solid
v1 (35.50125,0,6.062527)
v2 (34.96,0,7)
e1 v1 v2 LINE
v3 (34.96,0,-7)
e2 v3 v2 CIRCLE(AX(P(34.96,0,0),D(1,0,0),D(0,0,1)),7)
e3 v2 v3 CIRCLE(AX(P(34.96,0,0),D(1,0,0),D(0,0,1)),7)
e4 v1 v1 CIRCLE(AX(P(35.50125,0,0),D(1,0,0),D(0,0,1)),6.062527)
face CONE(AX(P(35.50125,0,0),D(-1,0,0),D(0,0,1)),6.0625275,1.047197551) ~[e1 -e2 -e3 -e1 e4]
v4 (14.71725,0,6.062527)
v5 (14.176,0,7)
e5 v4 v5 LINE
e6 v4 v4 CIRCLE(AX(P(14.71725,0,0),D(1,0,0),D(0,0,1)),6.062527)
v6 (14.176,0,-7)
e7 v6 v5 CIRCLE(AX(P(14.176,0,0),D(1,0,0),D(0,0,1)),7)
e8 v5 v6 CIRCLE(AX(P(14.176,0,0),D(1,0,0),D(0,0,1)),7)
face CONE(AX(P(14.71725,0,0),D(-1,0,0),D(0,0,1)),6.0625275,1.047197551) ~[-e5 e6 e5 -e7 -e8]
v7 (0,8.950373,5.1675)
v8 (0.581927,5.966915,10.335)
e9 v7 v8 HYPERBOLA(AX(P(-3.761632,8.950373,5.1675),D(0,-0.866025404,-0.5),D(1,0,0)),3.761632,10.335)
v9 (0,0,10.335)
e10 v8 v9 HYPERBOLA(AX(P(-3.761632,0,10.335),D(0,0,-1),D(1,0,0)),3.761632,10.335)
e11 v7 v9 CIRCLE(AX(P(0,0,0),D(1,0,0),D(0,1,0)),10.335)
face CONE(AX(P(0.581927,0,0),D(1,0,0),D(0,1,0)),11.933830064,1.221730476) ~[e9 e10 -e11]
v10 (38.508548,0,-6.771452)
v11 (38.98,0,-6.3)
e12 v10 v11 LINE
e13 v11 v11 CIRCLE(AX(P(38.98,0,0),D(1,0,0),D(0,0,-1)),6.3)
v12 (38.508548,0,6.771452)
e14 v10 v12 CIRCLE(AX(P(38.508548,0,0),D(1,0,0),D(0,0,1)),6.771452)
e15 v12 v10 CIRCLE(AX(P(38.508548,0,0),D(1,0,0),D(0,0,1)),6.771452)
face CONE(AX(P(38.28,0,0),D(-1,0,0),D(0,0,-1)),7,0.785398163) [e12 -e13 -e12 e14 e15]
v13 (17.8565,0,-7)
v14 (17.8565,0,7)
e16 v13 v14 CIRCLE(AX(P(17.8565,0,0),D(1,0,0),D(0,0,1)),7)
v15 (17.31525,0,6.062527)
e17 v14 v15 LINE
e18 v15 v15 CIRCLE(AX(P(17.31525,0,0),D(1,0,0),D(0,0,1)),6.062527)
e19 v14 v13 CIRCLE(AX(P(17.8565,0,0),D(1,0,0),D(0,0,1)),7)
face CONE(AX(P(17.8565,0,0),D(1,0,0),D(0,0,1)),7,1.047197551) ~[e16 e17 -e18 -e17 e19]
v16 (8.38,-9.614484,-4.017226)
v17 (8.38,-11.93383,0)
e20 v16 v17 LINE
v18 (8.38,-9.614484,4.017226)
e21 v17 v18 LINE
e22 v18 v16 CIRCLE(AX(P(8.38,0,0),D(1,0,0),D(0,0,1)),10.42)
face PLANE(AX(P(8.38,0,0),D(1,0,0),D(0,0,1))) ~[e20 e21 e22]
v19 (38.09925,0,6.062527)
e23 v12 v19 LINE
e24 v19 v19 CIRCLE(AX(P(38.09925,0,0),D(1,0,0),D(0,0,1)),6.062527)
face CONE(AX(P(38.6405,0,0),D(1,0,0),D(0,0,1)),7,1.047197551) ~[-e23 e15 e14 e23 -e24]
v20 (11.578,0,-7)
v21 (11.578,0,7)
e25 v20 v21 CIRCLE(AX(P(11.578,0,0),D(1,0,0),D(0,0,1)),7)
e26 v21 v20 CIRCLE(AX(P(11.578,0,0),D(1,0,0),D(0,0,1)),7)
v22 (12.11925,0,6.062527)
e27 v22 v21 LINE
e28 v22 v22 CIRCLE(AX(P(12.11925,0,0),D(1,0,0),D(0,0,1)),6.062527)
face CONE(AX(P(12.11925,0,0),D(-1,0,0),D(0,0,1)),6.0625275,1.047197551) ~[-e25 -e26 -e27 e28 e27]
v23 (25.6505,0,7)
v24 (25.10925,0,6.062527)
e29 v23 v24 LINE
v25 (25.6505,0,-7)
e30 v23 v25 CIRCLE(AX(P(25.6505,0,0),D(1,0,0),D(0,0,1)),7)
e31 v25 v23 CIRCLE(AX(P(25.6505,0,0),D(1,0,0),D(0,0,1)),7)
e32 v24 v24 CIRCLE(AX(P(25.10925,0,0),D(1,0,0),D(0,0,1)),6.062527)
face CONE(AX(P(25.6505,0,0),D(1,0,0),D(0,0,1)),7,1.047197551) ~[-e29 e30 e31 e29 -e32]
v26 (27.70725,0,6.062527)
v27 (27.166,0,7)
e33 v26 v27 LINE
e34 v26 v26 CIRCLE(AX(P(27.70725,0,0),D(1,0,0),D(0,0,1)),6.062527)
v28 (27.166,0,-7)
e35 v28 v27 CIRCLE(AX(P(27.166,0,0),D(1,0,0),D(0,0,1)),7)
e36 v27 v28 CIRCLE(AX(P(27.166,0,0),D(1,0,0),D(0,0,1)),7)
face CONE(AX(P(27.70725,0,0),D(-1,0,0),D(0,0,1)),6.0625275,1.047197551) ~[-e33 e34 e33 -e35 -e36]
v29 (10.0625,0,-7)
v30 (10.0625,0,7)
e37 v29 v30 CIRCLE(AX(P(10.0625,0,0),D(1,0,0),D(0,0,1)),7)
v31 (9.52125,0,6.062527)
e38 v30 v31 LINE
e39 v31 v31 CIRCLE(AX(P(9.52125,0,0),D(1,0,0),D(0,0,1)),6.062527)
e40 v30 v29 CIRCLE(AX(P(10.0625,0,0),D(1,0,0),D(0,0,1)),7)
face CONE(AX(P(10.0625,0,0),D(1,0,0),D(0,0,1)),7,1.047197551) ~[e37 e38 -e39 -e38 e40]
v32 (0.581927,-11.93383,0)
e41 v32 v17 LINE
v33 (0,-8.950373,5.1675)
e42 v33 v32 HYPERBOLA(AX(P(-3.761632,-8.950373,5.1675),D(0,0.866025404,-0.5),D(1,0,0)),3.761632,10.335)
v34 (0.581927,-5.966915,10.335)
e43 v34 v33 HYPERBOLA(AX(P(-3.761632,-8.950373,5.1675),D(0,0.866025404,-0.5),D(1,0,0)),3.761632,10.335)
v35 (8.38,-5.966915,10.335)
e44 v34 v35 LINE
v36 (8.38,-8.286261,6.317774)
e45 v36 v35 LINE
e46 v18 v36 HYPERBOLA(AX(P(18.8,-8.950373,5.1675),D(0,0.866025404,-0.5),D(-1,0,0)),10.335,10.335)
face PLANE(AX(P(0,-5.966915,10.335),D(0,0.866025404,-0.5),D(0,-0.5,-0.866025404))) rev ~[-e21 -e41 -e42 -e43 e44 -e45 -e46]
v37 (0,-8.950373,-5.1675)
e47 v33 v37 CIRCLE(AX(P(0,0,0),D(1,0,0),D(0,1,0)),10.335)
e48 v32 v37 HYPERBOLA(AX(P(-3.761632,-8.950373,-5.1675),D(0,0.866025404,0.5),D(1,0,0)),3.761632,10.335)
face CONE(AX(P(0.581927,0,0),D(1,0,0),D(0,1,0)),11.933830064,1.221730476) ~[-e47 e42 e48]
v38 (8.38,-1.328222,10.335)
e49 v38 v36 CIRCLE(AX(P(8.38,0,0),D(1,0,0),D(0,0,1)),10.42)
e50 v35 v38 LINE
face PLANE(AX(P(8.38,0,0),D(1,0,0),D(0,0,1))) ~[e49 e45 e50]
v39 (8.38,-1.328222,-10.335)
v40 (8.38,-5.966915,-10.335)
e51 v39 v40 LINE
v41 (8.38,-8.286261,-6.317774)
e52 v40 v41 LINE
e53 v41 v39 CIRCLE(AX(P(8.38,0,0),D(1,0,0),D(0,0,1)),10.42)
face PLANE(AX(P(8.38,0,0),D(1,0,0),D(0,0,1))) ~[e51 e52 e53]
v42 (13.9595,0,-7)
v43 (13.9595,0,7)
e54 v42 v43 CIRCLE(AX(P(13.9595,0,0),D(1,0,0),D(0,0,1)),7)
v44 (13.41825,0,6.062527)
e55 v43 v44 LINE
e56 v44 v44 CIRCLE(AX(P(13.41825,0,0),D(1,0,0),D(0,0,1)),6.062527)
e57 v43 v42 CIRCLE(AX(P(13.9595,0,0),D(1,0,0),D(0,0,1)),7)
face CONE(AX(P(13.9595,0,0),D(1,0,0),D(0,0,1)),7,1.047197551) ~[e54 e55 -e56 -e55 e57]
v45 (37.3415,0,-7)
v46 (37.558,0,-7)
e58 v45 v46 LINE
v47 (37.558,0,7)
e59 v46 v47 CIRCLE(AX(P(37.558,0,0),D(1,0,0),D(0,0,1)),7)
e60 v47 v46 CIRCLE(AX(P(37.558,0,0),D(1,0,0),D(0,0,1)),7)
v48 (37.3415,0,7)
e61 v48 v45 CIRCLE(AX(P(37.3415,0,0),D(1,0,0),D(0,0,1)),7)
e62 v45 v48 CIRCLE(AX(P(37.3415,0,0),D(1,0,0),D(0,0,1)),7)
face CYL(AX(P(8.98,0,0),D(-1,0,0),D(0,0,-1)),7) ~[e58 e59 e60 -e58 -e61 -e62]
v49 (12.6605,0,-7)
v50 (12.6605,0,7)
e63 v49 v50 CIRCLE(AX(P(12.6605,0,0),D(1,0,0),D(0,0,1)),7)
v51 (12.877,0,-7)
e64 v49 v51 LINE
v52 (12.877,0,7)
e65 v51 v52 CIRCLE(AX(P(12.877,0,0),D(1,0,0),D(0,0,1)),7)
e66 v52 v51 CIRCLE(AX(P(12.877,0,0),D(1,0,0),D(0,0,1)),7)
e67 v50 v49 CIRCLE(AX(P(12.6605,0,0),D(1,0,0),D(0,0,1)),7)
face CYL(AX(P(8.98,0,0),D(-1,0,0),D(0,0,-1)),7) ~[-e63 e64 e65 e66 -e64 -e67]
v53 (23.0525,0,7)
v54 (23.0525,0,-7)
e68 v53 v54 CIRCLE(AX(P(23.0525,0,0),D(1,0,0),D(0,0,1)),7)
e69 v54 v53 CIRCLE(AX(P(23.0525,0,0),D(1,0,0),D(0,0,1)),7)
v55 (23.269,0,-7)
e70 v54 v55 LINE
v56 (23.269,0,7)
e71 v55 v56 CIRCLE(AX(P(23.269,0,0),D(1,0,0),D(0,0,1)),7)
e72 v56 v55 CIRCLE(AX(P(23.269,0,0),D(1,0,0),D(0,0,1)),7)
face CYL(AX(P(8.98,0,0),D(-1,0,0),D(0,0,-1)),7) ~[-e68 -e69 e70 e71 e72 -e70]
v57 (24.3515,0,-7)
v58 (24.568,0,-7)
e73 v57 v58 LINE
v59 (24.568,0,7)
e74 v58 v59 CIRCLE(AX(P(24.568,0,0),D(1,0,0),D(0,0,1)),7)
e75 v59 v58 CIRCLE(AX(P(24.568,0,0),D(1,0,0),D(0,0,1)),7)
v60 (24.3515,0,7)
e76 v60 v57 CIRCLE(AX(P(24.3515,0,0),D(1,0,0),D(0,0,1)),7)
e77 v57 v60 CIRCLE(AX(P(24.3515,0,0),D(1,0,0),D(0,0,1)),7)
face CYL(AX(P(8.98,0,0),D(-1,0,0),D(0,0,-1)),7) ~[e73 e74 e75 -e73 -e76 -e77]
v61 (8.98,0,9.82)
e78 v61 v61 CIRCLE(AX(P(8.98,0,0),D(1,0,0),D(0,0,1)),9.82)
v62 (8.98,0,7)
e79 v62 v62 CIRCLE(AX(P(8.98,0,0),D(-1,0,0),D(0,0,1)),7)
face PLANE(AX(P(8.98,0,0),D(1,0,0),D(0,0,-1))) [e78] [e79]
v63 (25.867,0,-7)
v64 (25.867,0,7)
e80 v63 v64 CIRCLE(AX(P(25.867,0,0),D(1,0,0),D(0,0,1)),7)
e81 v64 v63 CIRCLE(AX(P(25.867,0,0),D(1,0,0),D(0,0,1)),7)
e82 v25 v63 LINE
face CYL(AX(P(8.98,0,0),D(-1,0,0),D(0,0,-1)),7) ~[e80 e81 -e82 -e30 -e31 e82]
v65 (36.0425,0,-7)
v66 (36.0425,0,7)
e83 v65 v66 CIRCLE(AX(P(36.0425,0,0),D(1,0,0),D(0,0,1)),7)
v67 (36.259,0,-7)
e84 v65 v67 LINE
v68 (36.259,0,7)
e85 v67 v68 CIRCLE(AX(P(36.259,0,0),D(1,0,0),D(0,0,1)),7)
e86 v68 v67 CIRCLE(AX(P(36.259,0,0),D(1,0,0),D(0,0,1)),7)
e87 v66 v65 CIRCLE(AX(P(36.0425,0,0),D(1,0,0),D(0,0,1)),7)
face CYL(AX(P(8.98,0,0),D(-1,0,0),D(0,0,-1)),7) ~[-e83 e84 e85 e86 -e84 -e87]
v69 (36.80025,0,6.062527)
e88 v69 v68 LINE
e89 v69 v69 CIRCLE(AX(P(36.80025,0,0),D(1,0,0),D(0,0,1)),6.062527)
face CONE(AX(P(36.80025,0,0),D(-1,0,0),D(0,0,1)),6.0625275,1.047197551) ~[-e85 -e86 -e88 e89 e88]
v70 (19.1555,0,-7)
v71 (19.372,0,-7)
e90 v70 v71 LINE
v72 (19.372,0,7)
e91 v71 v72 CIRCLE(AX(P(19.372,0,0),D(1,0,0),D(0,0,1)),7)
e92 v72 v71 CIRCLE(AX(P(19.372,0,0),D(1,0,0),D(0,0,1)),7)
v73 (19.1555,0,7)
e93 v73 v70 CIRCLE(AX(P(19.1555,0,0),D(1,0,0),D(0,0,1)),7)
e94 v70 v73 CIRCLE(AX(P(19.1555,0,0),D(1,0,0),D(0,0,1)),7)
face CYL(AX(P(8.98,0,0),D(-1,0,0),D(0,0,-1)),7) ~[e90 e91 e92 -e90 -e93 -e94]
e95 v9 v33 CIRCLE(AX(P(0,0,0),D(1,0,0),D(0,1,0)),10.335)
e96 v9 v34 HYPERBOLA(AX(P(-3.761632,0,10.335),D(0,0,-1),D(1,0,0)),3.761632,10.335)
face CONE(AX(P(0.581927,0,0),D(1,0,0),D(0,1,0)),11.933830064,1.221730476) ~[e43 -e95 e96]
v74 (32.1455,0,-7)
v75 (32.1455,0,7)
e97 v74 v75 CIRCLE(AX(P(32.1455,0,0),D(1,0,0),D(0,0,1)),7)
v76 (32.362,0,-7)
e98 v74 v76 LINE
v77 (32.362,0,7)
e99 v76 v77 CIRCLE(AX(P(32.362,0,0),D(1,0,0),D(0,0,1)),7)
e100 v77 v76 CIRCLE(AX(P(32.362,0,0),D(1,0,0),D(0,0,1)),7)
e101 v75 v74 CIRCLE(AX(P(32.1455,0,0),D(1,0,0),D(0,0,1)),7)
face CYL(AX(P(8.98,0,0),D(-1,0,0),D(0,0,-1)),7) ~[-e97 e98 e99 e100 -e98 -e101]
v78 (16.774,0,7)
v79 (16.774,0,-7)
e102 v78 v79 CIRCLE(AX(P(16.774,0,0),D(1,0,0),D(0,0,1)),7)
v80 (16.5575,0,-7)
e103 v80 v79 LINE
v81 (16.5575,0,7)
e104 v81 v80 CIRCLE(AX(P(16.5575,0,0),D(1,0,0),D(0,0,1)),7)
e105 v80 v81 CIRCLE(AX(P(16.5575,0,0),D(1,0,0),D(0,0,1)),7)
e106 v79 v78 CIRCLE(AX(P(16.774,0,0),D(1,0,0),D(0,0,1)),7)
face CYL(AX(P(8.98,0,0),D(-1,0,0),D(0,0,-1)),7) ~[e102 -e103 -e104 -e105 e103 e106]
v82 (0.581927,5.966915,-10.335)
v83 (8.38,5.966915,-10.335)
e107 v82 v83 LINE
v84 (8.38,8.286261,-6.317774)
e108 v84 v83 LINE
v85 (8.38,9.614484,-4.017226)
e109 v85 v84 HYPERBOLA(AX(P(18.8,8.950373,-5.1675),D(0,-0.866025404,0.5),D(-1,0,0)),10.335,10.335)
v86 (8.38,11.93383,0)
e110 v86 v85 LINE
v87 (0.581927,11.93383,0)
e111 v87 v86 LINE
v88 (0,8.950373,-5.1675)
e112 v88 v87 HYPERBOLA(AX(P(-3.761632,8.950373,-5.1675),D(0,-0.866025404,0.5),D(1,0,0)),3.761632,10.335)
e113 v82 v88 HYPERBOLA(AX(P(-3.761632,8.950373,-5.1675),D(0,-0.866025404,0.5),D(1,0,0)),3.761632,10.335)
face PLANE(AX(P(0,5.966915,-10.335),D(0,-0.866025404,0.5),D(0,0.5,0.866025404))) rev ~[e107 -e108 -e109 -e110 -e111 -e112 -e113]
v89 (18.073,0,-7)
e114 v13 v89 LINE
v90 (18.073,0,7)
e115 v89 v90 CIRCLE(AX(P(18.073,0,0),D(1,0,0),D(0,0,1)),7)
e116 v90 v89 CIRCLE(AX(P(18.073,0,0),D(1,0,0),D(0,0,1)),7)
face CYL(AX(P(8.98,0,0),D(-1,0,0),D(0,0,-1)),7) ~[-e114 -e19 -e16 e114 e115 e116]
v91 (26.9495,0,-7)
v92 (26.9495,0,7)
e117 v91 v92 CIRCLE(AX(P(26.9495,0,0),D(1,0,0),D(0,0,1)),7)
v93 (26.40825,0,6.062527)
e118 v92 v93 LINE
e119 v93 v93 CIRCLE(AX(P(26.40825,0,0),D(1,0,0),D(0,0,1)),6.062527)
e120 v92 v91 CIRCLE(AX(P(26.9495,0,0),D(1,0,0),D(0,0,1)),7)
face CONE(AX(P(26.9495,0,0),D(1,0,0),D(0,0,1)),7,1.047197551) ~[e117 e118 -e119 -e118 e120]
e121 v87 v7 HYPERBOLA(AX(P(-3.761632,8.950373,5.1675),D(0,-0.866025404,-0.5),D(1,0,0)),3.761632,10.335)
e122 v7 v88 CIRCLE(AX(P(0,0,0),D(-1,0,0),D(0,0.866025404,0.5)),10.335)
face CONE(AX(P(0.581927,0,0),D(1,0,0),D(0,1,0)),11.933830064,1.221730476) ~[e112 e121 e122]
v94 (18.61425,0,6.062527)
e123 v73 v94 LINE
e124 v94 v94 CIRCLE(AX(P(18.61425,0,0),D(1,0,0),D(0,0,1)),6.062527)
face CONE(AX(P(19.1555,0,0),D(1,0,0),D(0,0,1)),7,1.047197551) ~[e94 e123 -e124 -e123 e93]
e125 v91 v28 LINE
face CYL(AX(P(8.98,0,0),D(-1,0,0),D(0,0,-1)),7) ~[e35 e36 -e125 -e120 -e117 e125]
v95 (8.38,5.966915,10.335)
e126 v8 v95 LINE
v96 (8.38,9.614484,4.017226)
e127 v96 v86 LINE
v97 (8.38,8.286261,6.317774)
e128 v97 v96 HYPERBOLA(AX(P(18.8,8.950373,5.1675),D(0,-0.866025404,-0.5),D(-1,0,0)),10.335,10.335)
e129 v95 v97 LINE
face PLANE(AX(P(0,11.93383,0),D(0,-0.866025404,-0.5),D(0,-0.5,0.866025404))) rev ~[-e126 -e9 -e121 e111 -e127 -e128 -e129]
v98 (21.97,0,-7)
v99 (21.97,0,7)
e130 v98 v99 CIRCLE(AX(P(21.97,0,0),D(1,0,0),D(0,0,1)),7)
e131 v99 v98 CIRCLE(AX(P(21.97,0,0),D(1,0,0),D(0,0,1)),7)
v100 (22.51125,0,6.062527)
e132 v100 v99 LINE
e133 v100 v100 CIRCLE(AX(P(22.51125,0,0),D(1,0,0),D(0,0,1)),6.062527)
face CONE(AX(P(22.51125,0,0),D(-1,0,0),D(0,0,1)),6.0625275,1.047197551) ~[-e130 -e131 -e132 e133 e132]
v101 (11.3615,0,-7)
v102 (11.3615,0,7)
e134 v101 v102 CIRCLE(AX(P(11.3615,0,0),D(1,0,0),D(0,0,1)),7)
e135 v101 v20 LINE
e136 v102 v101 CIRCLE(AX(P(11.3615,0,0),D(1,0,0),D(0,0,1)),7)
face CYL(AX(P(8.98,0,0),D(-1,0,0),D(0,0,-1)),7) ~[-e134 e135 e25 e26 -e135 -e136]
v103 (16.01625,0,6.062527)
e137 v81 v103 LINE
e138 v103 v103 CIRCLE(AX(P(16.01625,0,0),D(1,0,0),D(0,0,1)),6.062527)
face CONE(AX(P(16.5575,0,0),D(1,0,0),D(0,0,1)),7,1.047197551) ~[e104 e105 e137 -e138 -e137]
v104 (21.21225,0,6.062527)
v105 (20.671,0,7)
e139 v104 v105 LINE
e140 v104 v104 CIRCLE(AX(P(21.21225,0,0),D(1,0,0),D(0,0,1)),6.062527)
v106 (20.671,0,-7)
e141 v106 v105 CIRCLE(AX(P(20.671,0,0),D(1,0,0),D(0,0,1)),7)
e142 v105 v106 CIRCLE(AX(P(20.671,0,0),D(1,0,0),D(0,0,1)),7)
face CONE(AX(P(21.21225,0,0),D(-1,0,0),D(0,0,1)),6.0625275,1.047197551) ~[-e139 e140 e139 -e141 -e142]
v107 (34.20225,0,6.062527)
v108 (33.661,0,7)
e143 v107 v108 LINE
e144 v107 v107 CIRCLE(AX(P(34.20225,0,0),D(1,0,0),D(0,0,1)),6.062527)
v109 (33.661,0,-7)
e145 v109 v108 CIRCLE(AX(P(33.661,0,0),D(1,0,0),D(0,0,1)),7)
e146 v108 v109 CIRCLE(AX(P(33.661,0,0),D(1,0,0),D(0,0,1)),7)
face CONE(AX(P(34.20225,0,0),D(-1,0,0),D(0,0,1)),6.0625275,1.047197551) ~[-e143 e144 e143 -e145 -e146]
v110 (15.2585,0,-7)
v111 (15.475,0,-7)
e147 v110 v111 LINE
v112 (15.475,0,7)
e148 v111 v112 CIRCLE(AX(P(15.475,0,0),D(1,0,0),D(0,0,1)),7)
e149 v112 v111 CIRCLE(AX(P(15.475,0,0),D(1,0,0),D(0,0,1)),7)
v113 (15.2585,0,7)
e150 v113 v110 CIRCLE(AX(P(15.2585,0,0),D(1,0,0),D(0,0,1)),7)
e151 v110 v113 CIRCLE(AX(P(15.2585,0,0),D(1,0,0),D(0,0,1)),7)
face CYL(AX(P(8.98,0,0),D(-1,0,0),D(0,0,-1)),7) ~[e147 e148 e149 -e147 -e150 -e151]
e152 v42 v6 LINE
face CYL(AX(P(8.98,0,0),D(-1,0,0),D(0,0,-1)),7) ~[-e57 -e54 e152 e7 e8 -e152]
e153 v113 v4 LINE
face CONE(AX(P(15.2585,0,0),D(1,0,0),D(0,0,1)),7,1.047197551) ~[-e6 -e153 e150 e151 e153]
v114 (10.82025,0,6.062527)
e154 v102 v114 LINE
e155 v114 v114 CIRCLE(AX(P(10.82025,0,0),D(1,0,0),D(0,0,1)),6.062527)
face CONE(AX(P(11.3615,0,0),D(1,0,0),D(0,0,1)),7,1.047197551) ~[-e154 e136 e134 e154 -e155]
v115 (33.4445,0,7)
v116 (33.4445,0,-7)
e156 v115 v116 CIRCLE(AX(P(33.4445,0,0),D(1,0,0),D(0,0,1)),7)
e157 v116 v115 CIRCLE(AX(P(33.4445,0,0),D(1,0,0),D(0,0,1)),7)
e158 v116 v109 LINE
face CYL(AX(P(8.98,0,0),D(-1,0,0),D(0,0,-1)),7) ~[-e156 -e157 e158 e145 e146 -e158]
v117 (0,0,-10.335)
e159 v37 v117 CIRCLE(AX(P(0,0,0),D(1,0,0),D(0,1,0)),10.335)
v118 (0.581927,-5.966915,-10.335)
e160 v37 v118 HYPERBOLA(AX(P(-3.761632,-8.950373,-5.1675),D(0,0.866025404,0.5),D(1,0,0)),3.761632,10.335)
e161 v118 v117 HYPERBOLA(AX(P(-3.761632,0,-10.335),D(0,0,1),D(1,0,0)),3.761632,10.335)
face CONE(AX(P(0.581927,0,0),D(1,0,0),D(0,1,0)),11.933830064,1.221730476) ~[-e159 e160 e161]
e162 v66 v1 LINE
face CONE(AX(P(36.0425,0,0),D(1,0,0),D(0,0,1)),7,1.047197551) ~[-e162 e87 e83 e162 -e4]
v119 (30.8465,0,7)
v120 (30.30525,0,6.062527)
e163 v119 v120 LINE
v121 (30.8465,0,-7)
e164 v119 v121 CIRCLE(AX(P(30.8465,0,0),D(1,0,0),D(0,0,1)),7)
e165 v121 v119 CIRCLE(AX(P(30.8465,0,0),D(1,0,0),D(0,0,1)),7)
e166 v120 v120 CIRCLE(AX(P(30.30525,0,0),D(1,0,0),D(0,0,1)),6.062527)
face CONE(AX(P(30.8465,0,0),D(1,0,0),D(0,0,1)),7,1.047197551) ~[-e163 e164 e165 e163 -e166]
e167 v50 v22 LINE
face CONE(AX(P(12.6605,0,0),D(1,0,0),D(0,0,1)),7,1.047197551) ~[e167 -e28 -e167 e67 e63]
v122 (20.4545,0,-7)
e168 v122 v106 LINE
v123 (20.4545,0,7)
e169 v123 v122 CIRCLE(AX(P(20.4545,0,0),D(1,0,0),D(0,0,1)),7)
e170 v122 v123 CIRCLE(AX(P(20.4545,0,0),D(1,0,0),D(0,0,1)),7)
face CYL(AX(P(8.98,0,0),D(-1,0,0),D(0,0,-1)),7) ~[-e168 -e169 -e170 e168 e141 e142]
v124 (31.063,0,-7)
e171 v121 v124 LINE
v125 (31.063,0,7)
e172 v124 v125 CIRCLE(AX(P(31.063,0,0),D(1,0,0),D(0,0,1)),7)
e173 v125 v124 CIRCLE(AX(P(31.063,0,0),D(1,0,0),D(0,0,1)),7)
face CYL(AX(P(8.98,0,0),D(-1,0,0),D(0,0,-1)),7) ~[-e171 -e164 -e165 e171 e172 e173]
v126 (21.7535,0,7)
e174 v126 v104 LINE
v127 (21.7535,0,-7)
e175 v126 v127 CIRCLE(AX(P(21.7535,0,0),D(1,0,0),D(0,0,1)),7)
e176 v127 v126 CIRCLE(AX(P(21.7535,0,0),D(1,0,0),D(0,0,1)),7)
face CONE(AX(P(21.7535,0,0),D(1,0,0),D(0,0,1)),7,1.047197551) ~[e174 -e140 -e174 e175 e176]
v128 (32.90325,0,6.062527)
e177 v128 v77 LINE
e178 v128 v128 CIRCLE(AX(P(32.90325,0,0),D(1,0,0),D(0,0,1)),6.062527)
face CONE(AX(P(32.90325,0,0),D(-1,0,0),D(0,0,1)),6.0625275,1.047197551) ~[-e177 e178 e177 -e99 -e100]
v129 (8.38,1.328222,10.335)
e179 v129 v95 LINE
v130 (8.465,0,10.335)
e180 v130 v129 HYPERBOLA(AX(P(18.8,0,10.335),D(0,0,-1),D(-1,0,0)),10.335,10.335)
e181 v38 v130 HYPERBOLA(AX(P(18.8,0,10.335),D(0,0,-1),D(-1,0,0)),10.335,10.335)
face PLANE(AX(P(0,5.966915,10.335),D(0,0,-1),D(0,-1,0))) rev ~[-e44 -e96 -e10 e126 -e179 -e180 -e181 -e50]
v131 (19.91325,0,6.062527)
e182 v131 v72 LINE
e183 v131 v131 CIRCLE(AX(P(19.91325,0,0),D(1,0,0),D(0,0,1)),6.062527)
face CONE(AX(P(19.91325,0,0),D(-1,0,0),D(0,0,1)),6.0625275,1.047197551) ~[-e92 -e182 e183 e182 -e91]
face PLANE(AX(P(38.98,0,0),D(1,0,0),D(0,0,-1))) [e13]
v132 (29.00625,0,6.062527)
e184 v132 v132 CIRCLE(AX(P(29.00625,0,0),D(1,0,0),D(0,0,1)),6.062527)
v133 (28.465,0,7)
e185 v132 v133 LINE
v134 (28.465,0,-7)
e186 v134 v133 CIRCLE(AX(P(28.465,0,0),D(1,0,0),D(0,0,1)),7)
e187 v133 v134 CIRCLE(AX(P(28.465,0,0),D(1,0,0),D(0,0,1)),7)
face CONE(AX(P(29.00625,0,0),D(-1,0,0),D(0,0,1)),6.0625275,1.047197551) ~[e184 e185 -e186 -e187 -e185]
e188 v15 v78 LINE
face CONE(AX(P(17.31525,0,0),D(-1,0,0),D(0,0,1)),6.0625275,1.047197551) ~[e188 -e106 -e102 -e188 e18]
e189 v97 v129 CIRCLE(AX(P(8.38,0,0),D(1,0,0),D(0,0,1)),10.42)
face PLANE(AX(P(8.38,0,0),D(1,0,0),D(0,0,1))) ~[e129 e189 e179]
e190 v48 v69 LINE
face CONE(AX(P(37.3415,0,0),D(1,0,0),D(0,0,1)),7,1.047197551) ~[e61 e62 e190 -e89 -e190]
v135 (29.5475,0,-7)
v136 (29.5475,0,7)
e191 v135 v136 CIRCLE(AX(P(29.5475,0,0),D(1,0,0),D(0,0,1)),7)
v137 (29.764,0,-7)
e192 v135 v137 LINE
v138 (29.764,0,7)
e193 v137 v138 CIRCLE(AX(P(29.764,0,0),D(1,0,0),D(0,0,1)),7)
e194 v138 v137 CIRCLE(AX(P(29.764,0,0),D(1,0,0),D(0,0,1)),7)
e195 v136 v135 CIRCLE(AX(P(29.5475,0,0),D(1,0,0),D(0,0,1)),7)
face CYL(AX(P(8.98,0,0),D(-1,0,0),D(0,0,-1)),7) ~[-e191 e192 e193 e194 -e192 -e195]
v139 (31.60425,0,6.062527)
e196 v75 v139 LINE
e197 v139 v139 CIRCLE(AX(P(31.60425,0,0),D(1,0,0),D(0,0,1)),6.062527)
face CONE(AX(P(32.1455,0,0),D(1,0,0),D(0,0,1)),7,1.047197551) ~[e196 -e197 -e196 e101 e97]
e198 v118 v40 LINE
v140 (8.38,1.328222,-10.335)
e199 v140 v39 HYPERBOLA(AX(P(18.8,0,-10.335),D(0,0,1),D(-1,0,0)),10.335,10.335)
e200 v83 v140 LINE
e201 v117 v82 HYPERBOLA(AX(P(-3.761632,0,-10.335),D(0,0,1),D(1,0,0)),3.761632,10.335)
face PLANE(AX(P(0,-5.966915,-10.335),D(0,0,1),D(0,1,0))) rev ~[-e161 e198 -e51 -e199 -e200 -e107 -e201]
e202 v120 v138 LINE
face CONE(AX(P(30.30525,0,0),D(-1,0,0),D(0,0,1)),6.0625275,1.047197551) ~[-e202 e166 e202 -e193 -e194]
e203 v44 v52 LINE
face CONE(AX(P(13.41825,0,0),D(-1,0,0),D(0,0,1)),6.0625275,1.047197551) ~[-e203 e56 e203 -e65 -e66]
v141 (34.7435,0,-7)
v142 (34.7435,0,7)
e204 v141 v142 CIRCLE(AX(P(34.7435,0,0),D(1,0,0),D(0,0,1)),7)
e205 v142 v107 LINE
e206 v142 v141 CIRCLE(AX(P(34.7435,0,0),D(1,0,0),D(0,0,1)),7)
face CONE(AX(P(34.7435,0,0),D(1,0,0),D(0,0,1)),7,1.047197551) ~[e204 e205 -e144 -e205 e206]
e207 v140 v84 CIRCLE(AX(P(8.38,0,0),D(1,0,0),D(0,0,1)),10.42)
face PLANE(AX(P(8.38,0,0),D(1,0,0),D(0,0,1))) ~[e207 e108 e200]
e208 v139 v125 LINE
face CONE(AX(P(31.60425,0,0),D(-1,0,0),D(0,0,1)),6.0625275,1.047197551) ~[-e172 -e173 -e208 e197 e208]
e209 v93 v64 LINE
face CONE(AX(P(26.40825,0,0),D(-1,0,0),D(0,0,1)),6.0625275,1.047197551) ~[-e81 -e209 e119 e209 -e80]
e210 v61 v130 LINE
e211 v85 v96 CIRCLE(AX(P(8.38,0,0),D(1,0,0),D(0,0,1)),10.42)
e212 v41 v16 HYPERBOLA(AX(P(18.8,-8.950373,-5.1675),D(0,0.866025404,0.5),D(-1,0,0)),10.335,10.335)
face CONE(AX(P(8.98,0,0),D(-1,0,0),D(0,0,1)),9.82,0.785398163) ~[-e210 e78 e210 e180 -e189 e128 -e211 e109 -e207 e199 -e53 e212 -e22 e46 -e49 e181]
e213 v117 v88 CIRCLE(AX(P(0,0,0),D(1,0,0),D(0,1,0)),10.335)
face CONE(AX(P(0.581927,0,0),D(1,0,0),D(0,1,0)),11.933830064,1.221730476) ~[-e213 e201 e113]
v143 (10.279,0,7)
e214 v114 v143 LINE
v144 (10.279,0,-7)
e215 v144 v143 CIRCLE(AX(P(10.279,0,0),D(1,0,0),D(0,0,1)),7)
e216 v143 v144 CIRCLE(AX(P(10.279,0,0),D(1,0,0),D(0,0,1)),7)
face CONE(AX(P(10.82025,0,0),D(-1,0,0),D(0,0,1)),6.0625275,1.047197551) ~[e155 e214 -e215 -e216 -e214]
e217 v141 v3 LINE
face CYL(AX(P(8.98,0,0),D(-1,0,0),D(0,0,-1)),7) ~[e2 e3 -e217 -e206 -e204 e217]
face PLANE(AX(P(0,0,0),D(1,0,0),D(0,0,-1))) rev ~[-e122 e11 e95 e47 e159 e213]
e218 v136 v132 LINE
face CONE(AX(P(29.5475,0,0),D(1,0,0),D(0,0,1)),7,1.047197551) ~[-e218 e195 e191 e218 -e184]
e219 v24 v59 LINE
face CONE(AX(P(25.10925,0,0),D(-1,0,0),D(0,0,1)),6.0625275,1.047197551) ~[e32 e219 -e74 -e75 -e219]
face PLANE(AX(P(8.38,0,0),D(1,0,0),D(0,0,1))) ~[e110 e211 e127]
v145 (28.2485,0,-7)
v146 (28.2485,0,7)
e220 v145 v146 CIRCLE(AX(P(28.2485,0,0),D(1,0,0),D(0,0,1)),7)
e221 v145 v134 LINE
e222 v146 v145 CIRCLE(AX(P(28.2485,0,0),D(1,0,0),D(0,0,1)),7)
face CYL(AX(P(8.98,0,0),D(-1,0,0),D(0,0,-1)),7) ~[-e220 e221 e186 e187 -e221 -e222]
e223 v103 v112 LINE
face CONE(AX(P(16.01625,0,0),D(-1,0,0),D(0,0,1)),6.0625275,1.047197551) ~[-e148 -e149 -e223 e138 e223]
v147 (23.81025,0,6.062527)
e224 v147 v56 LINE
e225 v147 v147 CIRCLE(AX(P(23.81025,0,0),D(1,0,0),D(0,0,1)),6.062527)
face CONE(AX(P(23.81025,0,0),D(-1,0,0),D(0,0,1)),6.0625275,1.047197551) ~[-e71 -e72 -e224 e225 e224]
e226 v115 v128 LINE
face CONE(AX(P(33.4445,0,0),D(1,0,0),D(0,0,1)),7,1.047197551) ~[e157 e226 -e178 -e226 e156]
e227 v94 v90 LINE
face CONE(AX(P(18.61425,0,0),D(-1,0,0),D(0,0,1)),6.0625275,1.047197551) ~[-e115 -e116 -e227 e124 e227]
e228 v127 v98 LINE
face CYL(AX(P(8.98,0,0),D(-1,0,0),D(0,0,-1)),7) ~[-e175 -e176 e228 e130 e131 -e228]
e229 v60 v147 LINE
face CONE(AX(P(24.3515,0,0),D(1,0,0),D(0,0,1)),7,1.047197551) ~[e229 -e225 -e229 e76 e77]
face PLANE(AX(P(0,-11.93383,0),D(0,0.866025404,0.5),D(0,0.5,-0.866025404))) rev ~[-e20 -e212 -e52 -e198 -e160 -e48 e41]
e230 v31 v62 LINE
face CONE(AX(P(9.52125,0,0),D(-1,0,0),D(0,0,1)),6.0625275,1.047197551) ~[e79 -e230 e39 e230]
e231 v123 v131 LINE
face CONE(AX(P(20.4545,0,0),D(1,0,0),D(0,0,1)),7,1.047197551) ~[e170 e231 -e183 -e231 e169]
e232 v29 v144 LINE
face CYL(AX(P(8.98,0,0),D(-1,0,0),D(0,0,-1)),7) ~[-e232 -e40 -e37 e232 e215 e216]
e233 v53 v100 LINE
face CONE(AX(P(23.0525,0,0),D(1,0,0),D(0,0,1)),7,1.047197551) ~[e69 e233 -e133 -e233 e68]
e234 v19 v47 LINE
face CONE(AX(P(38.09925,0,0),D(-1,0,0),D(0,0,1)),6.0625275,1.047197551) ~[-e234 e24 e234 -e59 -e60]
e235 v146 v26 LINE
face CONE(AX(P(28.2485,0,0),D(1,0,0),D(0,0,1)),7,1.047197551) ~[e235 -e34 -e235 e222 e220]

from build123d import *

# Parameters (mm, degrees)
BASEHEAD_DEPTH   = 8.98
SKETCH5_R        = 7
BASEBODY_DEPTH   = 30
CHAMFER1_SIZE    = 0.7
LPATTERN10_COUNT = 23
LPATTERN10_PITCH = 1.299


with BuildPart() as part:
    # Sketch2 → BaseHead (new body)
    with BuildSketch(Plane(origin=(0, 0, 0), x_dir=(0, 0, -1), z_dir=(1, 0, 0))):
        Polygon((10.335, -5.966915032), (10.335, 5.966915032), (0, 11.933830064), (-10.335, 5.966915032), (-10.335, -5.966915032), (0, -11.933830064), align=None)
    extrude(amount=BASEHEAD_DEPTH)

    # Sketch3 → BearingFace (revolve, cut)
    with BuildSketch(Plane.XY, mode=Mode.PRIVATE) as bearingface_sk:
        Polygon((8.98, 11.933830064), (8.98, 9.82), (8.38, 10.42), (8.38, 11.933830064), align=None)
    revolve(bearingface_sk.sketch.rotate(Axis((-0.957090588, 0, 0), (1, 0, 0)), 90), axis=Axis((-0.957090588, 0, 0), (1, 0, 0)), mode=Mode.SUBTRACT)

    # Sketch4 → HeadChamfer (revolve, cut)
    with BuildSketch(Plane.XY):
        Polygon((0, 11.933830064), (0.581926553, 11.933830064), (0, 10.335), align=None)
    revolve(axis=Axis((-0.493528746, 0, 0), (1, 0, 0)), mode=Mode.SUBTRACT)

    # Sketch5 → BaseBody (add)
    with BuildSketch(Plane(origin=(8.98, 0, 0), x_dir=(0, 0, -1), z_dir=(1, 0, 0))):
        Circle(SKETCH5_R)
    extrude(amount=BASEBODY_DEPTH)

    # Chamfer1
    chamfer1_edges = [part.edges().sort_by_distance(p)[0] for p in [
        (38.98, 0, 7),
    ]]
    chamfer(chamfer1_edges, length=CHAMFER1_SIZE)

    # Sketch6 → Cut-Revolve10 (revolve, cut)
    with BuildSketch(Plane.XY, mode=Mode.PRIVATE) as cut_revolve10_sk:
        Polygon((8.98, 8.0825), (10.0625, 8.0825), (10.0625, 7), (9.52125, 6.0625275), (8.98, 7), align=None)
    cut_revolve10 = revolve(cut_revolve10_sk.sketch.rotate(Axis((-0.957090588, 0, 0), (1, 0, 0)), 90), axis=Axis((-0.957090588, 0, 0), (1, 0, 0)), mode=Mode.SUBTRACT)

    # LPattern10: Cut-Revolve10 ×23
    with Locations(*[(i * LPATTERN10_PITCH, 0, 0) for i in range(1, LPATTERN10_COUNT)]):
        add(cut_revolve10, mode=Mode.SUBTRACT)


solid = part.part
